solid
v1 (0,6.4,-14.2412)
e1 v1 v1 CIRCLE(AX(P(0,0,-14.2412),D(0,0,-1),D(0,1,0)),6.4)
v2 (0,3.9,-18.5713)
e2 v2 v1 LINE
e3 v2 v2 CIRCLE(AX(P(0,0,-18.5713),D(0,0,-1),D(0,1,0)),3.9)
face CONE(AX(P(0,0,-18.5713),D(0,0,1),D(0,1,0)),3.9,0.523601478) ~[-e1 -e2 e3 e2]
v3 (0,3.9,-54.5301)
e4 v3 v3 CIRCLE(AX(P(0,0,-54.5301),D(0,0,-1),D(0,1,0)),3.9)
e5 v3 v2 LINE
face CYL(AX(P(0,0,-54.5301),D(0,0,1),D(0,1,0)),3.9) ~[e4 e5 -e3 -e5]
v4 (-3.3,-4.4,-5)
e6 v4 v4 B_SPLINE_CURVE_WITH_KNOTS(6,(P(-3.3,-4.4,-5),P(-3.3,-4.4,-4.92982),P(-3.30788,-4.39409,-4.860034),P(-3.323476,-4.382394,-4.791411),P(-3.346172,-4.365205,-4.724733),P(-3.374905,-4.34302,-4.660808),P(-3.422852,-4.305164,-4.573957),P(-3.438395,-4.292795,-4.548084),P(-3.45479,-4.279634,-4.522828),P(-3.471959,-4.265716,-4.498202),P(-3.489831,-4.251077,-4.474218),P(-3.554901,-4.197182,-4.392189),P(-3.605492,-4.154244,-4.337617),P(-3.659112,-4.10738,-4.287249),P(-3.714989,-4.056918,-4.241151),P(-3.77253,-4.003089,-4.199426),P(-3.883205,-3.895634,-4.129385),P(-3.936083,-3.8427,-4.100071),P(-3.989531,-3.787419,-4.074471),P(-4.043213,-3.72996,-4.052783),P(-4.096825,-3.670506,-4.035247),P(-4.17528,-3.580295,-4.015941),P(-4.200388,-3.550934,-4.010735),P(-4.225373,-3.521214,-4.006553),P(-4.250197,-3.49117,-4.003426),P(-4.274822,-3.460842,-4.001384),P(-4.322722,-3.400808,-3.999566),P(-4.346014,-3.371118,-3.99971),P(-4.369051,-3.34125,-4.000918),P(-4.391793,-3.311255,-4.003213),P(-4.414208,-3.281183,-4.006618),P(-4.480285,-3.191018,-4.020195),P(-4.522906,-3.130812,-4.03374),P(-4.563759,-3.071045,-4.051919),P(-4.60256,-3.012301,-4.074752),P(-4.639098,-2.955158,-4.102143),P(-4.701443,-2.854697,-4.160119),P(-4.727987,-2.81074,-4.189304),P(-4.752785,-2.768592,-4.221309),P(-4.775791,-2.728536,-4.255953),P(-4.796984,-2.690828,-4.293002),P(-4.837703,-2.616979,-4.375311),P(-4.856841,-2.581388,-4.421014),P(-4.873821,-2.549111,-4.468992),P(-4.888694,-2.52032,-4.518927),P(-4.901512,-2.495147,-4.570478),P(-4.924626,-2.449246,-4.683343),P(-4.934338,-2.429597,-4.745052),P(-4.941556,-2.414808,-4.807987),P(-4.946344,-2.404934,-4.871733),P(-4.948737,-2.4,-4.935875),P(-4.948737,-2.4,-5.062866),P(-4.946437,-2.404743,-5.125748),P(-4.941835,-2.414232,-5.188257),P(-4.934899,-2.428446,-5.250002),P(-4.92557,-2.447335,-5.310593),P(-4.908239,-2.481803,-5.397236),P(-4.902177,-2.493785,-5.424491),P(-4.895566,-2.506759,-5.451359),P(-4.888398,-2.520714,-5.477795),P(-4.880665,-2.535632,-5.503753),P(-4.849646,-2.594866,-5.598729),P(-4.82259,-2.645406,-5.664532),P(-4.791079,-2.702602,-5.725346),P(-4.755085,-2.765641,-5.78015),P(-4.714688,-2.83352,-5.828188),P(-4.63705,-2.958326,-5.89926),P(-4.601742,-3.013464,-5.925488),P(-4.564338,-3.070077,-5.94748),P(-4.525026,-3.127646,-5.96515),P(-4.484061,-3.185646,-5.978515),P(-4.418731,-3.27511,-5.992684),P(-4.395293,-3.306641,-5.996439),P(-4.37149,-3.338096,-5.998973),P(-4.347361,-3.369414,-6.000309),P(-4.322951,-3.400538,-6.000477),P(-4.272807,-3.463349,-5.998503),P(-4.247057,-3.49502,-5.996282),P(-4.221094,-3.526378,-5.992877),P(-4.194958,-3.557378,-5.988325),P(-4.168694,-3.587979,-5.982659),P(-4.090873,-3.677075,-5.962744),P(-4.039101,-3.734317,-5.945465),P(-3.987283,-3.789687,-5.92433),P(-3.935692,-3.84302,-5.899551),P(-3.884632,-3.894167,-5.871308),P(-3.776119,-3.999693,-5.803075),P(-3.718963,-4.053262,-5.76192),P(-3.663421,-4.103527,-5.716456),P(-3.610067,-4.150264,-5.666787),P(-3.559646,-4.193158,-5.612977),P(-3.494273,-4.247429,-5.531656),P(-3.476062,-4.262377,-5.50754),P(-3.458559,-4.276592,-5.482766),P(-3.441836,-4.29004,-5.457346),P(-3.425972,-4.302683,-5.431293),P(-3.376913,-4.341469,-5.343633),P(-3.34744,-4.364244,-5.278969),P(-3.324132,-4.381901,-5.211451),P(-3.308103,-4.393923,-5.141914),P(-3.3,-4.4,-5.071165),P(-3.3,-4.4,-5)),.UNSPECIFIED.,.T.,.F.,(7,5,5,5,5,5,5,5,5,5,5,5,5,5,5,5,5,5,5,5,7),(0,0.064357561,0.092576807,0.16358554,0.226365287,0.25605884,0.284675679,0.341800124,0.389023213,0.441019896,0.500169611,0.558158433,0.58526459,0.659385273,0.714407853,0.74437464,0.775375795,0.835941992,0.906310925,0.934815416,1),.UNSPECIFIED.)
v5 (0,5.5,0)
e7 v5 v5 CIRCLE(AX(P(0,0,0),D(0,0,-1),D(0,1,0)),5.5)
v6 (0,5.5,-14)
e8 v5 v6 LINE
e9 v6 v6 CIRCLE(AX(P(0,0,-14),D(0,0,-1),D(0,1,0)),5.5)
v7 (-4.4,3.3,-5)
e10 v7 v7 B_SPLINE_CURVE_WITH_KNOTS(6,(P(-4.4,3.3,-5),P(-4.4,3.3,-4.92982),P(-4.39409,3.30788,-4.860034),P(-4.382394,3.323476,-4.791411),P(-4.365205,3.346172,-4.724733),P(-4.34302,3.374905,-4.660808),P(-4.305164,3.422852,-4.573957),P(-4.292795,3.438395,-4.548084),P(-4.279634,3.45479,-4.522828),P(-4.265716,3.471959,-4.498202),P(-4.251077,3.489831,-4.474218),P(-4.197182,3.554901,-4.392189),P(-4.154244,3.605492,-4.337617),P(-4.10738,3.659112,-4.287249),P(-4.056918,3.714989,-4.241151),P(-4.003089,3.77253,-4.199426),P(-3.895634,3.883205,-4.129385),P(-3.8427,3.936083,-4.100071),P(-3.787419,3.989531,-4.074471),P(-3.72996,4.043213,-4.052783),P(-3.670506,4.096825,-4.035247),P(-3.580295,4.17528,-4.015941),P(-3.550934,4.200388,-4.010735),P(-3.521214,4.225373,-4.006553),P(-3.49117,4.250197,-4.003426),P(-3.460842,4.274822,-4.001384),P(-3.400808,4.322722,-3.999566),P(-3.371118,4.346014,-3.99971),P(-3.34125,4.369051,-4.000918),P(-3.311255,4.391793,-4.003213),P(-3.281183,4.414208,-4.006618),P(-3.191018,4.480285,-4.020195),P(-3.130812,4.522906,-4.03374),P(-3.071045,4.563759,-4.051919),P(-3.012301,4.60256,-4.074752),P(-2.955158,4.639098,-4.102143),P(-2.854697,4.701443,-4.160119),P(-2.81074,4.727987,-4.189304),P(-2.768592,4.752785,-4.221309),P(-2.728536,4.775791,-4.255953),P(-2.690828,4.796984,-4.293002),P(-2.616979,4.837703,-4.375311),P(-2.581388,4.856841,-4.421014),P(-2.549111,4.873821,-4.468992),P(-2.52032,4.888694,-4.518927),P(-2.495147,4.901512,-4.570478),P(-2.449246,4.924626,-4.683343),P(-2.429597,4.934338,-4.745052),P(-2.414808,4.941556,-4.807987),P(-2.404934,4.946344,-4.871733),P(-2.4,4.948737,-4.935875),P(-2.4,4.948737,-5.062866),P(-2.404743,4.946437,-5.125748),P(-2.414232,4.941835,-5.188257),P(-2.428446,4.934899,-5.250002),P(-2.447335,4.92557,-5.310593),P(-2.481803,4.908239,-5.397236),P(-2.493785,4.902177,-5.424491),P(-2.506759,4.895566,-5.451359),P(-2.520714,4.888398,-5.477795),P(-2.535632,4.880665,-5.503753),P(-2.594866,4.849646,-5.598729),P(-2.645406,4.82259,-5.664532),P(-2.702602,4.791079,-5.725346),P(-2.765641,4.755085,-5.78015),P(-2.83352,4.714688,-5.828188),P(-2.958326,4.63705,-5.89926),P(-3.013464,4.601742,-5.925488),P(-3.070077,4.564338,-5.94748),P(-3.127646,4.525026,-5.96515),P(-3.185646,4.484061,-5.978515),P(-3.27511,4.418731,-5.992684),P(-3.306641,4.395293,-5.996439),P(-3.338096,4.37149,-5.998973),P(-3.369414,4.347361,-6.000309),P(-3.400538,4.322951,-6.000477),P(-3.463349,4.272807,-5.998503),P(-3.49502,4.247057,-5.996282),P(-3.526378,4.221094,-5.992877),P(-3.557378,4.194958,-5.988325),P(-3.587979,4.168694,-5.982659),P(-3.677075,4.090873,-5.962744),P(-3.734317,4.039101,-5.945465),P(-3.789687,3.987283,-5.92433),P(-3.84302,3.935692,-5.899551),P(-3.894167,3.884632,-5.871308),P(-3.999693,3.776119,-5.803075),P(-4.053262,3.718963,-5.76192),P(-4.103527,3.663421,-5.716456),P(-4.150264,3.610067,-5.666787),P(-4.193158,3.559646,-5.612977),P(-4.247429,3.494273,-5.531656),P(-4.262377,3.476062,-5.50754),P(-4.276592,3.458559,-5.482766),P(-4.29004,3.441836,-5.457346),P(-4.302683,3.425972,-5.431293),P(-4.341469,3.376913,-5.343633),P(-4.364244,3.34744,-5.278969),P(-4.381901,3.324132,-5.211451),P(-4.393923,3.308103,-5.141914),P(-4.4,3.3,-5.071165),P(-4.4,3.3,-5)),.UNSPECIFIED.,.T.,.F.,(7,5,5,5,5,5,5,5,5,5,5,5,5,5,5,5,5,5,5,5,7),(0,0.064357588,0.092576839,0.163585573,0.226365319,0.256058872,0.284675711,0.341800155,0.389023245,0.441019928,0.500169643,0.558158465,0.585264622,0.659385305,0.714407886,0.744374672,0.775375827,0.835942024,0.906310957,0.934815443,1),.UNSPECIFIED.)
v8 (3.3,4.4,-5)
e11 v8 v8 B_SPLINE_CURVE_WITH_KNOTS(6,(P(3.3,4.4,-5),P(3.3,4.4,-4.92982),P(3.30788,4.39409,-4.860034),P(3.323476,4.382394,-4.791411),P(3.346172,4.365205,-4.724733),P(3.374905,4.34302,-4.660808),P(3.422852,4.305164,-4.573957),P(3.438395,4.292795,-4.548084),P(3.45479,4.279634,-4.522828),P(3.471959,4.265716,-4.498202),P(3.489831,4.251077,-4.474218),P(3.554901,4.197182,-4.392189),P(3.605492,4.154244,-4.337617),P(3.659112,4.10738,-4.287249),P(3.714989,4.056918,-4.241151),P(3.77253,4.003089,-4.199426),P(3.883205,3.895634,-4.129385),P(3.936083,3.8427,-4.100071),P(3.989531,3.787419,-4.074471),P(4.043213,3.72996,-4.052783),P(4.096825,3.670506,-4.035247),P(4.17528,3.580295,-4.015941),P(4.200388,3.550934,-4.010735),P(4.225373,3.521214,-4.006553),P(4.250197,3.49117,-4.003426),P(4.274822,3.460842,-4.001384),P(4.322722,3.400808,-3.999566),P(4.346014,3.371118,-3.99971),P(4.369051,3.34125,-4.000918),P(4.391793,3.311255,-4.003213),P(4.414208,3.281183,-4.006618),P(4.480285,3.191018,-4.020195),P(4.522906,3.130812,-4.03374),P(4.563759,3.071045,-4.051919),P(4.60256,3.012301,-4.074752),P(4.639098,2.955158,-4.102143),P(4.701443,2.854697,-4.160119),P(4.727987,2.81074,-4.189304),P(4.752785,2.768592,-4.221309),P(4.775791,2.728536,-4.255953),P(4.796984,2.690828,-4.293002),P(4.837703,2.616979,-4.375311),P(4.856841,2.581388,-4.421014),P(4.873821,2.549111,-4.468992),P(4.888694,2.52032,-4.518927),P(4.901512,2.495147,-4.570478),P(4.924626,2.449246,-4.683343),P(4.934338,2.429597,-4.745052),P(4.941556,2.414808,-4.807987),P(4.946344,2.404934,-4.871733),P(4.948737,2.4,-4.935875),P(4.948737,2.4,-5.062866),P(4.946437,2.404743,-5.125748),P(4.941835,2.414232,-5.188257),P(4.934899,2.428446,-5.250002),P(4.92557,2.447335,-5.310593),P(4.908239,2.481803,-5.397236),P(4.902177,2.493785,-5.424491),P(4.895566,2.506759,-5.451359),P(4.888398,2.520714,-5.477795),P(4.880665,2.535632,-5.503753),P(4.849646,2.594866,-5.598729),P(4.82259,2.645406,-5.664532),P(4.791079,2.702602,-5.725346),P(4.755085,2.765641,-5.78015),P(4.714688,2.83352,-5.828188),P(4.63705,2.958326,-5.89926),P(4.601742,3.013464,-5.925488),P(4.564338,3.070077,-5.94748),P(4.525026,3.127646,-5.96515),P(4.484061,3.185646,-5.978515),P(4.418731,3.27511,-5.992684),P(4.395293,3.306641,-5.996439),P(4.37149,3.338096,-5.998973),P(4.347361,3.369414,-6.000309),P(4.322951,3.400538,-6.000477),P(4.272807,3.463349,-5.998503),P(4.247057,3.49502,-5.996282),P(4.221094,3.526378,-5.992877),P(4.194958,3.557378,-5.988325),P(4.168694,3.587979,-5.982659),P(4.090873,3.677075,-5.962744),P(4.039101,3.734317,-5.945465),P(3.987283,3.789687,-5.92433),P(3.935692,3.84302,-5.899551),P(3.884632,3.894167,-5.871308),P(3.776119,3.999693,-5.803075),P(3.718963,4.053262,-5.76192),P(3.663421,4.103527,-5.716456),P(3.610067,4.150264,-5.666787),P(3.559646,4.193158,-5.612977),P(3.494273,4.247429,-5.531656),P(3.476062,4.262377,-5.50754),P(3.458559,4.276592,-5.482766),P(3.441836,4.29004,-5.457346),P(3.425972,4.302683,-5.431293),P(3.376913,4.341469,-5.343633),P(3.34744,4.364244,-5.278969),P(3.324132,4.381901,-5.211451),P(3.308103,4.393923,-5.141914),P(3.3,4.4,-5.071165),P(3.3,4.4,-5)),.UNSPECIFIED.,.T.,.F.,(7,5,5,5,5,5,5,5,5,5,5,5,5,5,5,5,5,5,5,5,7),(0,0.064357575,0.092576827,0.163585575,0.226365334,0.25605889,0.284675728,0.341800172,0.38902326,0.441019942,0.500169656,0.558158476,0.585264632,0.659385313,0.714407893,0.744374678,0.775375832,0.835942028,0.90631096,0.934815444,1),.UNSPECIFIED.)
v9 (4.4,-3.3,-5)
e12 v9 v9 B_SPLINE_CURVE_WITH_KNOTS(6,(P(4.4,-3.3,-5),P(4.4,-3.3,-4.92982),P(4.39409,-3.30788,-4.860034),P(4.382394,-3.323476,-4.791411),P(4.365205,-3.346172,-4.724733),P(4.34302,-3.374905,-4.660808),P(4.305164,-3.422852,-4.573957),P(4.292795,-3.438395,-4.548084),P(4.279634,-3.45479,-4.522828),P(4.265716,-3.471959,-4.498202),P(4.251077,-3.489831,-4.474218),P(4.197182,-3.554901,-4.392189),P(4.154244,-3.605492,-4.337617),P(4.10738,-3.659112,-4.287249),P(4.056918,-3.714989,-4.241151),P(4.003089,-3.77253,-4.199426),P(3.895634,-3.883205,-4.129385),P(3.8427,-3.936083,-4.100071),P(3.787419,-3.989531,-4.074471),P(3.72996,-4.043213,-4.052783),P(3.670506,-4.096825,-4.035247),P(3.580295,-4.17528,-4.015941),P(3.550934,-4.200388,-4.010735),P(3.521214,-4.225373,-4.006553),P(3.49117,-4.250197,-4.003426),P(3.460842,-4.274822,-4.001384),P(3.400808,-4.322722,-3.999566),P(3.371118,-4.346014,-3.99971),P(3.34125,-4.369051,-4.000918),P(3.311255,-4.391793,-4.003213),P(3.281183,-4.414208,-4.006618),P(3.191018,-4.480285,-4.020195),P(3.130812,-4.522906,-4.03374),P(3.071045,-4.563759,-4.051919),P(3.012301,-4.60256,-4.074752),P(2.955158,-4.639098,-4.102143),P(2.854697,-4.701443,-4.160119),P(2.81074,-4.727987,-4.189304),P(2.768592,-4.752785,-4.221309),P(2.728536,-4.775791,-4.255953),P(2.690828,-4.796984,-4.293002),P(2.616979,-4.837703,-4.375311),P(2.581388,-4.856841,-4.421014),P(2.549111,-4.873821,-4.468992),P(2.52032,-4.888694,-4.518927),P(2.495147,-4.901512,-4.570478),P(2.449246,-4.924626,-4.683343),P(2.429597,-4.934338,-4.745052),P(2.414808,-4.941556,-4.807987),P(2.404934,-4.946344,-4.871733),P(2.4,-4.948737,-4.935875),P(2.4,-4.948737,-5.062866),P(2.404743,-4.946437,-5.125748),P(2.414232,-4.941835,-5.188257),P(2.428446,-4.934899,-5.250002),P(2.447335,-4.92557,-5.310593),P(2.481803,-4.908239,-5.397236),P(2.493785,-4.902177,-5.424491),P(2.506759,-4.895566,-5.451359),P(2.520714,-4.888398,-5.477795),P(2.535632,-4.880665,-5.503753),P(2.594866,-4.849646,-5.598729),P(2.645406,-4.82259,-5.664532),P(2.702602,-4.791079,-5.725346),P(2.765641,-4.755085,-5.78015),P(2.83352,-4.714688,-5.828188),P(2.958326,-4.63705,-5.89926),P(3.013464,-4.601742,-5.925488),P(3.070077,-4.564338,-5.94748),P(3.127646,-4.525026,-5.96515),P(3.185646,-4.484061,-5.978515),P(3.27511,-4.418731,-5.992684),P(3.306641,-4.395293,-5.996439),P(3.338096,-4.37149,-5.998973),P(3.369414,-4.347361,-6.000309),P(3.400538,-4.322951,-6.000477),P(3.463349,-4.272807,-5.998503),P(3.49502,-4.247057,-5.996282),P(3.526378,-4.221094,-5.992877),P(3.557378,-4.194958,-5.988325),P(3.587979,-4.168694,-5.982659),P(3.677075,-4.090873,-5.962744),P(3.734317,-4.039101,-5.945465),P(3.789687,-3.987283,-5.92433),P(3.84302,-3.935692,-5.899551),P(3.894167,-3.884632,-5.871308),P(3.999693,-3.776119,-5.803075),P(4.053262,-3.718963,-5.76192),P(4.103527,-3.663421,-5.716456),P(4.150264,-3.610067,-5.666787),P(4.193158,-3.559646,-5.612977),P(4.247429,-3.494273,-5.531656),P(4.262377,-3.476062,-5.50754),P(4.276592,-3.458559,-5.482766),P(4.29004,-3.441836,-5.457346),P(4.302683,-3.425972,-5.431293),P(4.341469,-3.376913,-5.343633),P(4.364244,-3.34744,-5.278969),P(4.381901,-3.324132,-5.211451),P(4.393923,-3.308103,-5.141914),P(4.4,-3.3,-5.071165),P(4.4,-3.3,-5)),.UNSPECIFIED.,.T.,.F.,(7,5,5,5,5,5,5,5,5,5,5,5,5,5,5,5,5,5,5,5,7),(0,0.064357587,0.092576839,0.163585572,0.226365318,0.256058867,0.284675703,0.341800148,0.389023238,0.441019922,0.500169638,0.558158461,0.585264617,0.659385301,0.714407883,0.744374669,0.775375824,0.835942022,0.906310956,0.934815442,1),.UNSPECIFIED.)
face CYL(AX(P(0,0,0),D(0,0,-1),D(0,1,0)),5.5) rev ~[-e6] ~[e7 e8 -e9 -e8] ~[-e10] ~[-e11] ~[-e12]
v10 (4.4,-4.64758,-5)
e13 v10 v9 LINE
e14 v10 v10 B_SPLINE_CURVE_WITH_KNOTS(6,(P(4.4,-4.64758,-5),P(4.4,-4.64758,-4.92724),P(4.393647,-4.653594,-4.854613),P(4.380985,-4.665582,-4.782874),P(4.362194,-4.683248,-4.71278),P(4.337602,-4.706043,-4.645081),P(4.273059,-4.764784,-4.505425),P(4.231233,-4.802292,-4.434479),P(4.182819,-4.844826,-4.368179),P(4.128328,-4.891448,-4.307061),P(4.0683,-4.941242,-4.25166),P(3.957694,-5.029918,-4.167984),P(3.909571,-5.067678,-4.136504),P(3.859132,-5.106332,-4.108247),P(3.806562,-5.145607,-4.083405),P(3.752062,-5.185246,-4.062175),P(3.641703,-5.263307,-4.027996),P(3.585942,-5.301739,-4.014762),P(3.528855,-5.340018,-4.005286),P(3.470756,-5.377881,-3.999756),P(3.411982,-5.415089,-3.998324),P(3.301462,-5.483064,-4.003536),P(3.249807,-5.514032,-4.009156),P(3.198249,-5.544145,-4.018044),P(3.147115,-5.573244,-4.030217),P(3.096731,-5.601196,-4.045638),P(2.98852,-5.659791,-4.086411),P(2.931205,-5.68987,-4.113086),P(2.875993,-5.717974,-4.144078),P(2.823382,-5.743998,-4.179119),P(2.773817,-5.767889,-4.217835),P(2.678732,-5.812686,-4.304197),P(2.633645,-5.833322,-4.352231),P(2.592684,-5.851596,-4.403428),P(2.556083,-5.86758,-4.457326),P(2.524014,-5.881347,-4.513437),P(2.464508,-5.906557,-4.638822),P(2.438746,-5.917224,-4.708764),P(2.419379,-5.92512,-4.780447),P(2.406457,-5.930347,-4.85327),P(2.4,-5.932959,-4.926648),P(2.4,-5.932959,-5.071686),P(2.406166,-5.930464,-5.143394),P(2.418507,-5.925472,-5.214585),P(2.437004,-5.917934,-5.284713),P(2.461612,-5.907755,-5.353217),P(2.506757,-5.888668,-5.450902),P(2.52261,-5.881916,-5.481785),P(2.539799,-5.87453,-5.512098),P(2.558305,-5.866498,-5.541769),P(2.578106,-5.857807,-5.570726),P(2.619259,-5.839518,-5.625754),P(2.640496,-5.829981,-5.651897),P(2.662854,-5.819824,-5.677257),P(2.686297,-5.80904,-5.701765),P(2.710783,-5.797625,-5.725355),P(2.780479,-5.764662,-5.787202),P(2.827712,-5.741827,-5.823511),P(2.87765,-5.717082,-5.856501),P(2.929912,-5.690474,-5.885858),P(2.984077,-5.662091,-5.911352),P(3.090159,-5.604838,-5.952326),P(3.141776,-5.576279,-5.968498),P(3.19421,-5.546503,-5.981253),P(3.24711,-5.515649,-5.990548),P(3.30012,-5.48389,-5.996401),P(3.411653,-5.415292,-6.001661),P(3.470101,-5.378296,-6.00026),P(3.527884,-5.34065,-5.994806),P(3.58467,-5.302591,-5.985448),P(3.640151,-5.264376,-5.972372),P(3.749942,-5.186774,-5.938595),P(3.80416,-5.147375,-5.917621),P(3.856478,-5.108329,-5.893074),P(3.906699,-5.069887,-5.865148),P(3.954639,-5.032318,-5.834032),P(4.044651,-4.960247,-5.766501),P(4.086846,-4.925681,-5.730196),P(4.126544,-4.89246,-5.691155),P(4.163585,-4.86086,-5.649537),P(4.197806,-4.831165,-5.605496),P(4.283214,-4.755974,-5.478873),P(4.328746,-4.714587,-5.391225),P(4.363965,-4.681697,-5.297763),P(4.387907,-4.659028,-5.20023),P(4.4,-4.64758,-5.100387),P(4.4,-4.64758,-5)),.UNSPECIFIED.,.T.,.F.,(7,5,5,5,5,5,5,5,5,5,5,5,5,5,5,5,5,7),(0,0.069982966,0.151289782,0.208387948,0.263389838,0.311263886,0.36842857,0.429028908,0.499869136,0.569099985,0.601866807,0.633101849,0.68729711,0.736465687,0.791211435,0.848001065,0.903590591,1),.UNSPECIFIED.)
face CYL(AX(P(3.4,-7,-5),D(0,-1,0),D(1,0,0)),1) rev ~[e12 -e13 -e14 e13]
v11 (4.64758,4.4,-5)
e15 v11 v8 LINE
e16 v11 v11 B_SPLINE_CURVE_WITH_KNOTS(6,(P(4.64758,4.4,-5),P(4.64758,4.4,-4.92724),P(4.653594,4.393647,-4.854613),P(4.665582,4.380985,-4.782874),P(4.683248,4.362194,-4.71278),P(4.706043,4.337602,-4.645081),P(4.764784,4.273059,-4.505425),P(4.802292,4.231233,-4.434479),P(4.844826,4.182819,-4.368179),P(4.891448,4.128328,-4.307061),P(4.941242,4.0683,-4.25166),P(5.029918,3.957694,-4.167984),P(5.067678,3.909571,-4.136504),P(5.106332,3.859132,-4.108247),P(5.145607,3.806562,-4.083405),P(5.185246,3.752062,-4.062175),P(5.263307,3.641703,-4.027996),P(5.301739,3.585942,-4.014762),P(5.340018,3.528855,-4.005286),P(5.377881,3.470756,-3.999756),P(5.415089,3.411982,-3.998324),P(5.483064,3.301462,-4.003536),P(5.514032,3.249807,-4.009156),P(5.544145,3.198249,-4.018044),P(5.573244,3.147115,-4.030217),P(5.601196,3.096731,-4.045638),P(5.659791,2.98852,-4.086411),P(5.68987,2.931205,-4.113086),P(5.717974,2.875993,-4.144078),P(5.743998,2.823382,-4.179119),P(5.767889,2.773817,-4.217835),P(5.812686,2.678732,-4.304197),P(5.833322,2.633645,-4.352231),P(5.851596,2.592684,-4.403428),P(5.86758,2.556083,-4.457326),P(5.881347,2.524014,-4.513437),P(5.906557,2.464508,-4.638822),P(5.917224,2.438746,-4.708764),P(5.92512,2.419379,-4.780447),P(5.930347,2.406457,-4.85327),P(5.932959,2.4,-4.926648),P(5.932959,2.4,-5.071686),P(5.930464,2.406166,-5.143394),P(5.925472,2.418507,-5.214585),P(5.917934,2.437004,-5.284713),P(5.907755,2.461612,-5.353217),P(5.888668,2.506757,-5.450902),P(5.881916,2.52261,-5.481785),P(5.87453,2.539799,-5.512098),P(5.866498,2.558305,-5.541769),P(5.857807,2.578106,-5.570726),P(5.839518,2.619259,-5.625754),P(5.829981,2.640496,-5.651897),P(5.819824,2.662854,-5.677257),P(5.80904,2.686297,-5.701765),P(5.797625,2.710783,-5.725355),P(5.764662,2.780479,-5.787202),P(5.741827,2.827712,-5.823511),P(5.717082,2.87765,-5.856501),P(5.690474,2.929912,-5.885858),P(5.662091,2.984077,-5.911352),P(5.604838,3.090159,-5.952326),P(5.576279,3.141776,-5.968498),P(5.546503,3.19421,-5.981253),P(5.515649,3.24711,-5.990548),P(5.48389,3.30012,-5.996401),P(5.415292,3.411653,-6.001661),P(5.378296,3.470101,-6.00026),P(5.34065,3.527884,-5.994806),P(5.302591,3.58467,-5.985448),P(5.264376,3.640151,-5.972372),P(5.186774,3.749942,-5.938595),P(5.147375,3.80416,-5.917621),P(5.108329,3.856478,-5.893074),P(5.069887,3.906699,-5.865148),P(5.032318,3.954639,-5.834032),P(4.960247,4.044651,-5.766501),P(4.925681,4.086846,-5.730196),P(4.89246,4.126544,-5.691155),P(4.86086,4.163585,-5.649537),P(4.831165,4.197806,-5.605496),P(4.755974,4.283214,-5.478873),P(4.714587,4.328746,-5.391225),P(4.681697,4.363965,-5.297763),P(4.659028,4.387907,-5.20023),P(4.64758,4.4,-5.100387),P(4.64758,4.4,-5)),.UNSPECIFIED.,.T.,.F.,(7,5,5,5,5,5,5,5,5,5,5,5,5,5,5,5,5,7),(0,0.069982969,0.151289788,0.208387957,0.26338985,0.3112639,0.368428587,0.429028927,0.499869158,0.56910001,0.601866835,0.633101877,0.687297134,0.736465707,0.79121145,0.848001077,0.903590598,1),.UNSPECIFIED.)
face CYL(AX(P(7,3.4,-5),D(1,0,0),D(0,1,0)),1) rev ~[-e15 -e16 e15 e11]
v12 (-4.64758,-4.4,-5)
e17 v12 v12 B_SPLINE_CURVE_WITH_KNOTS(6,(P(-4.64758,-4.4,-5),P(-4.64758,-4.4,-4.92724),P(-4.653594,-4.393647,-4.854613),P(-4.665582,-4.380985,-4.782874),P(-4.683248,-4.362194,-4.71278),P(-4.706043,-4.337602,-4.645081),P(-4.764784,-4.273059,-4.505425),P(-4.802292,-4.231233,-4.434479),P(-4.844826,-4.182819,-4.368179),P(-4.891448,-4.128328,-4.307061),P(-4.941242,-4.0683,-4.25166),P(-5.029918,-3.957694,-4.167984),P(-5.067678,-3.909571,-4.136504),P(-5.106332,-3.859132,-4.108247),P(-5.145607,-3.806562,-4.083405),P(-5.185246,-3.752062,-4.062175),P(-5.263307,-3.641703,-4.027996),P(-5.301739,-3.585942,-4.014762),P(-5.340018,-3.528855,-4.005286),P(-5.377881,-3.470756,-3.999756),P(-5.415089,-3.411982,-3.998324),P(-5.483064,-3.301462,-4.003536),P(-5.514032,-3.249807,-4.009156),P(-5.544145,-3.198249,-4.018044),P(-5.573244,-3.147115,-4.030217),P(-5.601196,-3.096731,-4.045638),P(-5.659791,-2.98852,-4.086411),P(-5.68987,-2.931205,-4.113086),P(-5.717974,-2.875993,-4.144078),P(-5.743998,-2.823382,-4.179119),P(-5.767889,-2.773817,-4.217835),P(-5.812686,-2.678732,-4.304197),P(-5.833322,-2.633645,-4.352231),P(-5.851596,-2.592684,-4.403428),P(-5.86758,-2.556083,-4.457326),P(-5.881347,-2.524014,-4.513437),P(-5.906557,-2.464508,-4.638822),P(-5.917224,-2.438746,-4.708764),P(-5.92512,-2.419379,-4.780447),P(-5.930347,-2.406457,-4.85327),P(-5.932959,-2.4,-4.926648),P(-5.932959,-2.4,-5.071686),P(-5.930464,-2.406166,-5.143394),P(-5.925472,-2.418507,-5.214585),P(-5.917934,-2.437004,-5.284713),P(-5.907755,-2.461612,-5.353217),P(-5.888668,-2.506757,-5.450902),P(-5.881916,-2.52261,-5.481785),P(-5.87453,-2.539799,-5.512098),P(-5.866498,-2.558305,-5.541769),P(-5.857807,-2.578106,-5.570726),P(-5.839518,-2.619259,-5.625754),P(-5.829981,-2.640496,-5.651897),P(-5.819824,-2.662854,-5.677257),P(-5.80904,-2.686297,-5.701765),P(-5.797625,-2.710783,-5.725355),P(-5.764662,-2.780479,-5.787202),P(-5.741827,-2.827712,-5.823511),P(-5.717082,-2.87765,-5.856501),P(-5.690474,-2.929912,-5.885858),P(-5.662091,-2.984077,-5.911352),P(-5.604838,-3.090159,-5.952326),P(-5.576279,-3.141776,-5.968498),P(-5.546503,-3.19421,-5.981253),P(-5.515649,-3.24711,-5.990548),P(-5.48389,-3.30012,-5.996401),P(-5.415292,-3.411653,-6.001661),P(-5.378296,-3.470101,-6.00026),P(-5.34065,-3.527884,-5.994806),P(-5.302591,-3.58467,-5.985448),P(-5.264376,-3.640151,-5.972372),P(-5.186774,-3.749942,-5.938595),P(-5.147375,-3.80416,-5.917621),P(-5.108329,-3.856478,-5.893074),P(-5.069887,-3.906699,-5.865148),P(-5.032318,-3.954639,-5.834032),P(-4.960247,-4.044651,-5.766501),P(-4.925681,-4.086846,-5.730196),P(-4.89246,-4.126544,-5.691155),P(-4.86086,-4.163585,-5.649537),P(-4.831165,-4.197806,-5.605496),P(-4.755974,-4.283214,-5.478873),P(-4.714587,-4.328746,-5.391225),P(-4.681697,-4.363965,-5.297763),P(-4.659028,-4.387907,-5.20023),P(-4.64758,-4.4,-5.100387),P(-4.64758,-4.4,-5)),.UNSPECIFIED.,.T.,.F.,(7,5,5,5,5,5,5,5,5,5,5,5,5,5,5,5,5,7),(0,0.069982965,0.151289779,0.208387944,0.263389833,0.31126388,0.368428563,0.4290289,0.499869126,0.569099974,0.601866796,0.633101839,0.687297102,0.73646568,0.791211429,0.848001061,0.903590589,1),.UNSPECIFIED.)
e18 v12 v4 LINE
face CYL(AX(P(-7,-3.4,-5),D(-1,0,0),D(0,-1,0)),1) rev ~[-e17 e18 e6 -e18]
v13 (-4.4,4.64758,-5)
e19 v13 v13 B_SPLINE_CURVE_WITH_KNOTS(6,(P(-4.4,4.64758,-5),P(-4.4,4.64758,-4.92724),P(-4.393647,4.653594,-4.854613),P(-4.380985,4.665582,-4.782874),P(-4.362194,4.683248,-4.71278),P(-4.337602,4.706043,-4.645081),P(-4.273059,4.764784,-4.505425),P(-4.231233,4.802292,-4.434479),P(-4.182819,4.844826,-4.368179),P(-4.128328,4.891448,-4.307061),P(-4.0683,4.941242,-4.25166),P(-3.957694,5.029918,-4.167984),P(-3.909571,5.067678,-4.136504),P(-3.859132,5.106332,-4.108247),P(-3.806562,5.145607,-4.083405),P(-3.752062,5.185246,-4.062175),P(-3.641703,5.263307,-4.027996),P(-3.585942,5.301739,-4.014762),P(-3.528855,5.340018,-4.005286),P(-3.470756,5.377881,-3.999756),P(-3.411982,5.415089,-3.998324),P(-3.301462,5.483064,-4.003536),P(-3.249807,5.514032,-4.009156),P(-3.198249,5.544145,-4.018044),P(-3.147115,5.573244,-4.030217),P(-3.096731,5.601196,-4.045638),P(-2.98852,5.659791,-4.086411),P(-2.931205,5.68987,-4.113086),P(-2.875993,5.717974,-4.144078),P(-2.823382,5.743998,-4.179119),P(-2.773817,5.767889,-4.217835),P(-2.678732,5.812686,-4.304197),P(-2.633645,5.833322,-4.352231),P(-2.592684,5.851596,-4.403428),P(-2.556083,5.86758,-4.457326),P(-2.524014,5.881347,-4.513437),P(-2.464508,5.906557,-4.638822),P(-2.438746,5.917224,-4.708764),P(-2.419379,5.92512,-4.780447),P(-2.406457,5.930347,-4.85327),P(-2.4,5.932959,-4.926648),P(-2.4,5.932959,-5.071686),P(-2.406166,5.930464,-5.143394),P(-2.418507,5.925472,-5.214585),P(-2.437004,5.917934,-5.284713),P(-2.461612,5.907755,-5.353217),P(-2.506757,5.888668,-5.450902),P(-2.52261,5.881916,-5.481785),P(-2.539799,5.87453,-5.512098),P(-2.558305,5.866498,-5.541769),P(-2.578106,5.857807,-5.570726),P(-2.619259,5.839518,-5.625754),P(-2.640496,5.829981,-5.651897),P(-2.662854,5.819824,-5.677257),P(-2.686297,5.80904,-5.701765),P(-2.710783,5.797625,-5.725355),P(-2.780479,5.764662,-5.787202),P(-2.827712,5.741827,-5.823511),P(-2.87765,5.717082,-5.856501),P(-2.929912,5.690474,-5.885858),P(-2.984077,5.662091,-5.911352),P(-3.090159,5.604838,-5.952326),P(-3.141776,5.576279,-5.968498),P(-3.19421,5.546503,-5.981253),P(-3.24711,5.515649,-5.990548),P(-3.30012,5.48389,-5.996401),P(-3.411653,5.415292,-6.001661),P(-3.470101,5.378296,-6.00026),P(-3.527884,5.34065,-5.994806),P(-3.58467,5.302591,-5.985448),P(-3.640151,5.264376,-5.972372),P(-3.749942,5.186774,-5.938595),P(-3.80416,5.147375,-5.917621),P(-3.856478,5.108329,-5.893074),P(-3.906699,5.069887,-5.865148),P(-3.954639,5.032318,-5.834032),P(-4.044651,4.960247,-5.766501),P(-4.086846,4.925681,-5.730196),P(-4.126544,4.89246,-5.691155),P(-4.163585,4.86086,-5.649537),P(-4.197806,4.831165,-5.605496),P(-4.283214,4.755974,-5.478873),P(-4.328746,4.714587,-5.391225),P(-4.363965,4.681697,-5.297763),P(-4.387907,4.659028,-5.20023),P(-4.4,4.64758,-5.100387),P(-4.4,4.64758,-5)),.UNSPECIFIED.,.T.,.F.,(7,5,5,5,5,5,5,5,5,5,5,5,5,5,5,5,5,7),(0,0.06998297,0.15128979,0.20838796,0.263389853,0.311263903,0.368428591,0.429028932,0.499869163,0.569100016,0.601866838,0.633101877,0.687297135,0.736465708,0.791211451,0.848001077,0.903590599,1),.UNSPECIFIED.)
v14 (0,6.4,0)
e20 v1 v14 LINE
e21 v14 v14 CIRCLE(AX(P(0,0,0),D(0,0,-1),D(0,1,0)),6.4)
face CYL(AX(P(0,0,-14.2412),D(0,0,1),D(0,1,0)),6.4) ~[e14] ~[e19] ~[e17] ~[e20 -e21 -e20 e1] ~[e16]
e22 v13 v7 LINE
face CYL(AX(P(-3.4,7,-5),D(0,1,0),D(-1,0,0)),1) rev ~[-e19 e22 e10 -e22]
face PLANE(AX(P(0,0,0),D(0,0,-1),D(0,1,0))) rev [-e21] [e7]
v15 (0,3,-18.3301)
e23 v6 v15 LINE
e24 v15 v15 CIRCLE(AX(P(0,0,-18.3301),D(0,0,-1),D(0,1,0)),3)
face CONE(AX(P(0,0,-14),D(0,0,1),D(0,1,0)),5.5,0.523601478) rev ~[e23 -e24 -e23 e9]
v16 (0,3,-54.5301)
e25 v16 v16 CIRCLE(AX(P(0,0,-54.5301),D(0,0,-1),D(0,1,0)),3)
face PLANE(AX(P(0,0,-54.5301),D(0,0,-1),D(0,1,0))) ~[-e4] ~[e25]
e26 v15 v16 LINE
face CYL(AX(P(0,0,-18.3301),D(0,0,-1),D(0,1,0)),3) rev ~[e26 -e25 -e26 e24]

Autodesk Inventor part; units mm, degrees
ref_plane "XZ Plane" through (0, 0, 0) normal (0, 1, 0) x (-1, 0, 0)
ref_plane "XY Plane" through (0, 0, 0) normal (0, 0, 1) x (1, 0, 0)
sketch "Sketch1" plane through (0, 0, 0) normal (1, 0, 0) x (0, 1, 0)
  line L0 (5.5, 0) -> (5.5, -14)
  line L1 (3, -18.3301) -> (3, -54.5301)
  line L2 (5.5, -14) -> (3, -18.3301)
  line L3 (6.4, -14.2412) -> (6.4, 0)
  line L4 (3.9, -54.5301) -> (3.9, -18.5713)
  line L5 (3.9, -18.5713) -> (6.4, -14.2412)
  line L6 (5.5, 0) -> (6.4, 0)
  line L7 (3, -54.5301) -> (3.9, -54.5301)
  line L8 (0, 0) -> (0, -13.4329) construction
  dimension "d7" = 5.5
  dimension "d8" = 3
  dimension "d9" = 150
  dimension "d10" = 0.9
  dimension "d11" = 0.9
  dimension "d12" = 0.9
  dimension "d13" = 14
  dimension "d14" = 36.2
revolve "Revolution1" add sketch "Sketch1" angle 360 about axis through (0, 0, 0) along (0, 0, -1)
ref_plane "Work Plane2" through (7, 0, 0) normal (1, 0, 0) x (0, 1, 0)
sketch "Sketch2" plane through (7, 0, 0) normal (1, 0, 0) x (0, 1, 0)
  line L0 (0, 0) -> (0, -5) construction
  line L1 (0, -5) -> (3.4, -5) construction
  circle A0 centre (3.4, -5) radius 1
  dimension "d18" = 5
  dimension "d19" = 3.4
  dimension "d20" = 2
extrude "Extrusion1" cut sketch "Sketch2" against normal blind 5
pattern_circular "Circular Pattern1" count 4 over 360 about axis through (0, 0, -7) along (0, 0, -1) of "Extrusion1"
properties part number "oxidizer"
